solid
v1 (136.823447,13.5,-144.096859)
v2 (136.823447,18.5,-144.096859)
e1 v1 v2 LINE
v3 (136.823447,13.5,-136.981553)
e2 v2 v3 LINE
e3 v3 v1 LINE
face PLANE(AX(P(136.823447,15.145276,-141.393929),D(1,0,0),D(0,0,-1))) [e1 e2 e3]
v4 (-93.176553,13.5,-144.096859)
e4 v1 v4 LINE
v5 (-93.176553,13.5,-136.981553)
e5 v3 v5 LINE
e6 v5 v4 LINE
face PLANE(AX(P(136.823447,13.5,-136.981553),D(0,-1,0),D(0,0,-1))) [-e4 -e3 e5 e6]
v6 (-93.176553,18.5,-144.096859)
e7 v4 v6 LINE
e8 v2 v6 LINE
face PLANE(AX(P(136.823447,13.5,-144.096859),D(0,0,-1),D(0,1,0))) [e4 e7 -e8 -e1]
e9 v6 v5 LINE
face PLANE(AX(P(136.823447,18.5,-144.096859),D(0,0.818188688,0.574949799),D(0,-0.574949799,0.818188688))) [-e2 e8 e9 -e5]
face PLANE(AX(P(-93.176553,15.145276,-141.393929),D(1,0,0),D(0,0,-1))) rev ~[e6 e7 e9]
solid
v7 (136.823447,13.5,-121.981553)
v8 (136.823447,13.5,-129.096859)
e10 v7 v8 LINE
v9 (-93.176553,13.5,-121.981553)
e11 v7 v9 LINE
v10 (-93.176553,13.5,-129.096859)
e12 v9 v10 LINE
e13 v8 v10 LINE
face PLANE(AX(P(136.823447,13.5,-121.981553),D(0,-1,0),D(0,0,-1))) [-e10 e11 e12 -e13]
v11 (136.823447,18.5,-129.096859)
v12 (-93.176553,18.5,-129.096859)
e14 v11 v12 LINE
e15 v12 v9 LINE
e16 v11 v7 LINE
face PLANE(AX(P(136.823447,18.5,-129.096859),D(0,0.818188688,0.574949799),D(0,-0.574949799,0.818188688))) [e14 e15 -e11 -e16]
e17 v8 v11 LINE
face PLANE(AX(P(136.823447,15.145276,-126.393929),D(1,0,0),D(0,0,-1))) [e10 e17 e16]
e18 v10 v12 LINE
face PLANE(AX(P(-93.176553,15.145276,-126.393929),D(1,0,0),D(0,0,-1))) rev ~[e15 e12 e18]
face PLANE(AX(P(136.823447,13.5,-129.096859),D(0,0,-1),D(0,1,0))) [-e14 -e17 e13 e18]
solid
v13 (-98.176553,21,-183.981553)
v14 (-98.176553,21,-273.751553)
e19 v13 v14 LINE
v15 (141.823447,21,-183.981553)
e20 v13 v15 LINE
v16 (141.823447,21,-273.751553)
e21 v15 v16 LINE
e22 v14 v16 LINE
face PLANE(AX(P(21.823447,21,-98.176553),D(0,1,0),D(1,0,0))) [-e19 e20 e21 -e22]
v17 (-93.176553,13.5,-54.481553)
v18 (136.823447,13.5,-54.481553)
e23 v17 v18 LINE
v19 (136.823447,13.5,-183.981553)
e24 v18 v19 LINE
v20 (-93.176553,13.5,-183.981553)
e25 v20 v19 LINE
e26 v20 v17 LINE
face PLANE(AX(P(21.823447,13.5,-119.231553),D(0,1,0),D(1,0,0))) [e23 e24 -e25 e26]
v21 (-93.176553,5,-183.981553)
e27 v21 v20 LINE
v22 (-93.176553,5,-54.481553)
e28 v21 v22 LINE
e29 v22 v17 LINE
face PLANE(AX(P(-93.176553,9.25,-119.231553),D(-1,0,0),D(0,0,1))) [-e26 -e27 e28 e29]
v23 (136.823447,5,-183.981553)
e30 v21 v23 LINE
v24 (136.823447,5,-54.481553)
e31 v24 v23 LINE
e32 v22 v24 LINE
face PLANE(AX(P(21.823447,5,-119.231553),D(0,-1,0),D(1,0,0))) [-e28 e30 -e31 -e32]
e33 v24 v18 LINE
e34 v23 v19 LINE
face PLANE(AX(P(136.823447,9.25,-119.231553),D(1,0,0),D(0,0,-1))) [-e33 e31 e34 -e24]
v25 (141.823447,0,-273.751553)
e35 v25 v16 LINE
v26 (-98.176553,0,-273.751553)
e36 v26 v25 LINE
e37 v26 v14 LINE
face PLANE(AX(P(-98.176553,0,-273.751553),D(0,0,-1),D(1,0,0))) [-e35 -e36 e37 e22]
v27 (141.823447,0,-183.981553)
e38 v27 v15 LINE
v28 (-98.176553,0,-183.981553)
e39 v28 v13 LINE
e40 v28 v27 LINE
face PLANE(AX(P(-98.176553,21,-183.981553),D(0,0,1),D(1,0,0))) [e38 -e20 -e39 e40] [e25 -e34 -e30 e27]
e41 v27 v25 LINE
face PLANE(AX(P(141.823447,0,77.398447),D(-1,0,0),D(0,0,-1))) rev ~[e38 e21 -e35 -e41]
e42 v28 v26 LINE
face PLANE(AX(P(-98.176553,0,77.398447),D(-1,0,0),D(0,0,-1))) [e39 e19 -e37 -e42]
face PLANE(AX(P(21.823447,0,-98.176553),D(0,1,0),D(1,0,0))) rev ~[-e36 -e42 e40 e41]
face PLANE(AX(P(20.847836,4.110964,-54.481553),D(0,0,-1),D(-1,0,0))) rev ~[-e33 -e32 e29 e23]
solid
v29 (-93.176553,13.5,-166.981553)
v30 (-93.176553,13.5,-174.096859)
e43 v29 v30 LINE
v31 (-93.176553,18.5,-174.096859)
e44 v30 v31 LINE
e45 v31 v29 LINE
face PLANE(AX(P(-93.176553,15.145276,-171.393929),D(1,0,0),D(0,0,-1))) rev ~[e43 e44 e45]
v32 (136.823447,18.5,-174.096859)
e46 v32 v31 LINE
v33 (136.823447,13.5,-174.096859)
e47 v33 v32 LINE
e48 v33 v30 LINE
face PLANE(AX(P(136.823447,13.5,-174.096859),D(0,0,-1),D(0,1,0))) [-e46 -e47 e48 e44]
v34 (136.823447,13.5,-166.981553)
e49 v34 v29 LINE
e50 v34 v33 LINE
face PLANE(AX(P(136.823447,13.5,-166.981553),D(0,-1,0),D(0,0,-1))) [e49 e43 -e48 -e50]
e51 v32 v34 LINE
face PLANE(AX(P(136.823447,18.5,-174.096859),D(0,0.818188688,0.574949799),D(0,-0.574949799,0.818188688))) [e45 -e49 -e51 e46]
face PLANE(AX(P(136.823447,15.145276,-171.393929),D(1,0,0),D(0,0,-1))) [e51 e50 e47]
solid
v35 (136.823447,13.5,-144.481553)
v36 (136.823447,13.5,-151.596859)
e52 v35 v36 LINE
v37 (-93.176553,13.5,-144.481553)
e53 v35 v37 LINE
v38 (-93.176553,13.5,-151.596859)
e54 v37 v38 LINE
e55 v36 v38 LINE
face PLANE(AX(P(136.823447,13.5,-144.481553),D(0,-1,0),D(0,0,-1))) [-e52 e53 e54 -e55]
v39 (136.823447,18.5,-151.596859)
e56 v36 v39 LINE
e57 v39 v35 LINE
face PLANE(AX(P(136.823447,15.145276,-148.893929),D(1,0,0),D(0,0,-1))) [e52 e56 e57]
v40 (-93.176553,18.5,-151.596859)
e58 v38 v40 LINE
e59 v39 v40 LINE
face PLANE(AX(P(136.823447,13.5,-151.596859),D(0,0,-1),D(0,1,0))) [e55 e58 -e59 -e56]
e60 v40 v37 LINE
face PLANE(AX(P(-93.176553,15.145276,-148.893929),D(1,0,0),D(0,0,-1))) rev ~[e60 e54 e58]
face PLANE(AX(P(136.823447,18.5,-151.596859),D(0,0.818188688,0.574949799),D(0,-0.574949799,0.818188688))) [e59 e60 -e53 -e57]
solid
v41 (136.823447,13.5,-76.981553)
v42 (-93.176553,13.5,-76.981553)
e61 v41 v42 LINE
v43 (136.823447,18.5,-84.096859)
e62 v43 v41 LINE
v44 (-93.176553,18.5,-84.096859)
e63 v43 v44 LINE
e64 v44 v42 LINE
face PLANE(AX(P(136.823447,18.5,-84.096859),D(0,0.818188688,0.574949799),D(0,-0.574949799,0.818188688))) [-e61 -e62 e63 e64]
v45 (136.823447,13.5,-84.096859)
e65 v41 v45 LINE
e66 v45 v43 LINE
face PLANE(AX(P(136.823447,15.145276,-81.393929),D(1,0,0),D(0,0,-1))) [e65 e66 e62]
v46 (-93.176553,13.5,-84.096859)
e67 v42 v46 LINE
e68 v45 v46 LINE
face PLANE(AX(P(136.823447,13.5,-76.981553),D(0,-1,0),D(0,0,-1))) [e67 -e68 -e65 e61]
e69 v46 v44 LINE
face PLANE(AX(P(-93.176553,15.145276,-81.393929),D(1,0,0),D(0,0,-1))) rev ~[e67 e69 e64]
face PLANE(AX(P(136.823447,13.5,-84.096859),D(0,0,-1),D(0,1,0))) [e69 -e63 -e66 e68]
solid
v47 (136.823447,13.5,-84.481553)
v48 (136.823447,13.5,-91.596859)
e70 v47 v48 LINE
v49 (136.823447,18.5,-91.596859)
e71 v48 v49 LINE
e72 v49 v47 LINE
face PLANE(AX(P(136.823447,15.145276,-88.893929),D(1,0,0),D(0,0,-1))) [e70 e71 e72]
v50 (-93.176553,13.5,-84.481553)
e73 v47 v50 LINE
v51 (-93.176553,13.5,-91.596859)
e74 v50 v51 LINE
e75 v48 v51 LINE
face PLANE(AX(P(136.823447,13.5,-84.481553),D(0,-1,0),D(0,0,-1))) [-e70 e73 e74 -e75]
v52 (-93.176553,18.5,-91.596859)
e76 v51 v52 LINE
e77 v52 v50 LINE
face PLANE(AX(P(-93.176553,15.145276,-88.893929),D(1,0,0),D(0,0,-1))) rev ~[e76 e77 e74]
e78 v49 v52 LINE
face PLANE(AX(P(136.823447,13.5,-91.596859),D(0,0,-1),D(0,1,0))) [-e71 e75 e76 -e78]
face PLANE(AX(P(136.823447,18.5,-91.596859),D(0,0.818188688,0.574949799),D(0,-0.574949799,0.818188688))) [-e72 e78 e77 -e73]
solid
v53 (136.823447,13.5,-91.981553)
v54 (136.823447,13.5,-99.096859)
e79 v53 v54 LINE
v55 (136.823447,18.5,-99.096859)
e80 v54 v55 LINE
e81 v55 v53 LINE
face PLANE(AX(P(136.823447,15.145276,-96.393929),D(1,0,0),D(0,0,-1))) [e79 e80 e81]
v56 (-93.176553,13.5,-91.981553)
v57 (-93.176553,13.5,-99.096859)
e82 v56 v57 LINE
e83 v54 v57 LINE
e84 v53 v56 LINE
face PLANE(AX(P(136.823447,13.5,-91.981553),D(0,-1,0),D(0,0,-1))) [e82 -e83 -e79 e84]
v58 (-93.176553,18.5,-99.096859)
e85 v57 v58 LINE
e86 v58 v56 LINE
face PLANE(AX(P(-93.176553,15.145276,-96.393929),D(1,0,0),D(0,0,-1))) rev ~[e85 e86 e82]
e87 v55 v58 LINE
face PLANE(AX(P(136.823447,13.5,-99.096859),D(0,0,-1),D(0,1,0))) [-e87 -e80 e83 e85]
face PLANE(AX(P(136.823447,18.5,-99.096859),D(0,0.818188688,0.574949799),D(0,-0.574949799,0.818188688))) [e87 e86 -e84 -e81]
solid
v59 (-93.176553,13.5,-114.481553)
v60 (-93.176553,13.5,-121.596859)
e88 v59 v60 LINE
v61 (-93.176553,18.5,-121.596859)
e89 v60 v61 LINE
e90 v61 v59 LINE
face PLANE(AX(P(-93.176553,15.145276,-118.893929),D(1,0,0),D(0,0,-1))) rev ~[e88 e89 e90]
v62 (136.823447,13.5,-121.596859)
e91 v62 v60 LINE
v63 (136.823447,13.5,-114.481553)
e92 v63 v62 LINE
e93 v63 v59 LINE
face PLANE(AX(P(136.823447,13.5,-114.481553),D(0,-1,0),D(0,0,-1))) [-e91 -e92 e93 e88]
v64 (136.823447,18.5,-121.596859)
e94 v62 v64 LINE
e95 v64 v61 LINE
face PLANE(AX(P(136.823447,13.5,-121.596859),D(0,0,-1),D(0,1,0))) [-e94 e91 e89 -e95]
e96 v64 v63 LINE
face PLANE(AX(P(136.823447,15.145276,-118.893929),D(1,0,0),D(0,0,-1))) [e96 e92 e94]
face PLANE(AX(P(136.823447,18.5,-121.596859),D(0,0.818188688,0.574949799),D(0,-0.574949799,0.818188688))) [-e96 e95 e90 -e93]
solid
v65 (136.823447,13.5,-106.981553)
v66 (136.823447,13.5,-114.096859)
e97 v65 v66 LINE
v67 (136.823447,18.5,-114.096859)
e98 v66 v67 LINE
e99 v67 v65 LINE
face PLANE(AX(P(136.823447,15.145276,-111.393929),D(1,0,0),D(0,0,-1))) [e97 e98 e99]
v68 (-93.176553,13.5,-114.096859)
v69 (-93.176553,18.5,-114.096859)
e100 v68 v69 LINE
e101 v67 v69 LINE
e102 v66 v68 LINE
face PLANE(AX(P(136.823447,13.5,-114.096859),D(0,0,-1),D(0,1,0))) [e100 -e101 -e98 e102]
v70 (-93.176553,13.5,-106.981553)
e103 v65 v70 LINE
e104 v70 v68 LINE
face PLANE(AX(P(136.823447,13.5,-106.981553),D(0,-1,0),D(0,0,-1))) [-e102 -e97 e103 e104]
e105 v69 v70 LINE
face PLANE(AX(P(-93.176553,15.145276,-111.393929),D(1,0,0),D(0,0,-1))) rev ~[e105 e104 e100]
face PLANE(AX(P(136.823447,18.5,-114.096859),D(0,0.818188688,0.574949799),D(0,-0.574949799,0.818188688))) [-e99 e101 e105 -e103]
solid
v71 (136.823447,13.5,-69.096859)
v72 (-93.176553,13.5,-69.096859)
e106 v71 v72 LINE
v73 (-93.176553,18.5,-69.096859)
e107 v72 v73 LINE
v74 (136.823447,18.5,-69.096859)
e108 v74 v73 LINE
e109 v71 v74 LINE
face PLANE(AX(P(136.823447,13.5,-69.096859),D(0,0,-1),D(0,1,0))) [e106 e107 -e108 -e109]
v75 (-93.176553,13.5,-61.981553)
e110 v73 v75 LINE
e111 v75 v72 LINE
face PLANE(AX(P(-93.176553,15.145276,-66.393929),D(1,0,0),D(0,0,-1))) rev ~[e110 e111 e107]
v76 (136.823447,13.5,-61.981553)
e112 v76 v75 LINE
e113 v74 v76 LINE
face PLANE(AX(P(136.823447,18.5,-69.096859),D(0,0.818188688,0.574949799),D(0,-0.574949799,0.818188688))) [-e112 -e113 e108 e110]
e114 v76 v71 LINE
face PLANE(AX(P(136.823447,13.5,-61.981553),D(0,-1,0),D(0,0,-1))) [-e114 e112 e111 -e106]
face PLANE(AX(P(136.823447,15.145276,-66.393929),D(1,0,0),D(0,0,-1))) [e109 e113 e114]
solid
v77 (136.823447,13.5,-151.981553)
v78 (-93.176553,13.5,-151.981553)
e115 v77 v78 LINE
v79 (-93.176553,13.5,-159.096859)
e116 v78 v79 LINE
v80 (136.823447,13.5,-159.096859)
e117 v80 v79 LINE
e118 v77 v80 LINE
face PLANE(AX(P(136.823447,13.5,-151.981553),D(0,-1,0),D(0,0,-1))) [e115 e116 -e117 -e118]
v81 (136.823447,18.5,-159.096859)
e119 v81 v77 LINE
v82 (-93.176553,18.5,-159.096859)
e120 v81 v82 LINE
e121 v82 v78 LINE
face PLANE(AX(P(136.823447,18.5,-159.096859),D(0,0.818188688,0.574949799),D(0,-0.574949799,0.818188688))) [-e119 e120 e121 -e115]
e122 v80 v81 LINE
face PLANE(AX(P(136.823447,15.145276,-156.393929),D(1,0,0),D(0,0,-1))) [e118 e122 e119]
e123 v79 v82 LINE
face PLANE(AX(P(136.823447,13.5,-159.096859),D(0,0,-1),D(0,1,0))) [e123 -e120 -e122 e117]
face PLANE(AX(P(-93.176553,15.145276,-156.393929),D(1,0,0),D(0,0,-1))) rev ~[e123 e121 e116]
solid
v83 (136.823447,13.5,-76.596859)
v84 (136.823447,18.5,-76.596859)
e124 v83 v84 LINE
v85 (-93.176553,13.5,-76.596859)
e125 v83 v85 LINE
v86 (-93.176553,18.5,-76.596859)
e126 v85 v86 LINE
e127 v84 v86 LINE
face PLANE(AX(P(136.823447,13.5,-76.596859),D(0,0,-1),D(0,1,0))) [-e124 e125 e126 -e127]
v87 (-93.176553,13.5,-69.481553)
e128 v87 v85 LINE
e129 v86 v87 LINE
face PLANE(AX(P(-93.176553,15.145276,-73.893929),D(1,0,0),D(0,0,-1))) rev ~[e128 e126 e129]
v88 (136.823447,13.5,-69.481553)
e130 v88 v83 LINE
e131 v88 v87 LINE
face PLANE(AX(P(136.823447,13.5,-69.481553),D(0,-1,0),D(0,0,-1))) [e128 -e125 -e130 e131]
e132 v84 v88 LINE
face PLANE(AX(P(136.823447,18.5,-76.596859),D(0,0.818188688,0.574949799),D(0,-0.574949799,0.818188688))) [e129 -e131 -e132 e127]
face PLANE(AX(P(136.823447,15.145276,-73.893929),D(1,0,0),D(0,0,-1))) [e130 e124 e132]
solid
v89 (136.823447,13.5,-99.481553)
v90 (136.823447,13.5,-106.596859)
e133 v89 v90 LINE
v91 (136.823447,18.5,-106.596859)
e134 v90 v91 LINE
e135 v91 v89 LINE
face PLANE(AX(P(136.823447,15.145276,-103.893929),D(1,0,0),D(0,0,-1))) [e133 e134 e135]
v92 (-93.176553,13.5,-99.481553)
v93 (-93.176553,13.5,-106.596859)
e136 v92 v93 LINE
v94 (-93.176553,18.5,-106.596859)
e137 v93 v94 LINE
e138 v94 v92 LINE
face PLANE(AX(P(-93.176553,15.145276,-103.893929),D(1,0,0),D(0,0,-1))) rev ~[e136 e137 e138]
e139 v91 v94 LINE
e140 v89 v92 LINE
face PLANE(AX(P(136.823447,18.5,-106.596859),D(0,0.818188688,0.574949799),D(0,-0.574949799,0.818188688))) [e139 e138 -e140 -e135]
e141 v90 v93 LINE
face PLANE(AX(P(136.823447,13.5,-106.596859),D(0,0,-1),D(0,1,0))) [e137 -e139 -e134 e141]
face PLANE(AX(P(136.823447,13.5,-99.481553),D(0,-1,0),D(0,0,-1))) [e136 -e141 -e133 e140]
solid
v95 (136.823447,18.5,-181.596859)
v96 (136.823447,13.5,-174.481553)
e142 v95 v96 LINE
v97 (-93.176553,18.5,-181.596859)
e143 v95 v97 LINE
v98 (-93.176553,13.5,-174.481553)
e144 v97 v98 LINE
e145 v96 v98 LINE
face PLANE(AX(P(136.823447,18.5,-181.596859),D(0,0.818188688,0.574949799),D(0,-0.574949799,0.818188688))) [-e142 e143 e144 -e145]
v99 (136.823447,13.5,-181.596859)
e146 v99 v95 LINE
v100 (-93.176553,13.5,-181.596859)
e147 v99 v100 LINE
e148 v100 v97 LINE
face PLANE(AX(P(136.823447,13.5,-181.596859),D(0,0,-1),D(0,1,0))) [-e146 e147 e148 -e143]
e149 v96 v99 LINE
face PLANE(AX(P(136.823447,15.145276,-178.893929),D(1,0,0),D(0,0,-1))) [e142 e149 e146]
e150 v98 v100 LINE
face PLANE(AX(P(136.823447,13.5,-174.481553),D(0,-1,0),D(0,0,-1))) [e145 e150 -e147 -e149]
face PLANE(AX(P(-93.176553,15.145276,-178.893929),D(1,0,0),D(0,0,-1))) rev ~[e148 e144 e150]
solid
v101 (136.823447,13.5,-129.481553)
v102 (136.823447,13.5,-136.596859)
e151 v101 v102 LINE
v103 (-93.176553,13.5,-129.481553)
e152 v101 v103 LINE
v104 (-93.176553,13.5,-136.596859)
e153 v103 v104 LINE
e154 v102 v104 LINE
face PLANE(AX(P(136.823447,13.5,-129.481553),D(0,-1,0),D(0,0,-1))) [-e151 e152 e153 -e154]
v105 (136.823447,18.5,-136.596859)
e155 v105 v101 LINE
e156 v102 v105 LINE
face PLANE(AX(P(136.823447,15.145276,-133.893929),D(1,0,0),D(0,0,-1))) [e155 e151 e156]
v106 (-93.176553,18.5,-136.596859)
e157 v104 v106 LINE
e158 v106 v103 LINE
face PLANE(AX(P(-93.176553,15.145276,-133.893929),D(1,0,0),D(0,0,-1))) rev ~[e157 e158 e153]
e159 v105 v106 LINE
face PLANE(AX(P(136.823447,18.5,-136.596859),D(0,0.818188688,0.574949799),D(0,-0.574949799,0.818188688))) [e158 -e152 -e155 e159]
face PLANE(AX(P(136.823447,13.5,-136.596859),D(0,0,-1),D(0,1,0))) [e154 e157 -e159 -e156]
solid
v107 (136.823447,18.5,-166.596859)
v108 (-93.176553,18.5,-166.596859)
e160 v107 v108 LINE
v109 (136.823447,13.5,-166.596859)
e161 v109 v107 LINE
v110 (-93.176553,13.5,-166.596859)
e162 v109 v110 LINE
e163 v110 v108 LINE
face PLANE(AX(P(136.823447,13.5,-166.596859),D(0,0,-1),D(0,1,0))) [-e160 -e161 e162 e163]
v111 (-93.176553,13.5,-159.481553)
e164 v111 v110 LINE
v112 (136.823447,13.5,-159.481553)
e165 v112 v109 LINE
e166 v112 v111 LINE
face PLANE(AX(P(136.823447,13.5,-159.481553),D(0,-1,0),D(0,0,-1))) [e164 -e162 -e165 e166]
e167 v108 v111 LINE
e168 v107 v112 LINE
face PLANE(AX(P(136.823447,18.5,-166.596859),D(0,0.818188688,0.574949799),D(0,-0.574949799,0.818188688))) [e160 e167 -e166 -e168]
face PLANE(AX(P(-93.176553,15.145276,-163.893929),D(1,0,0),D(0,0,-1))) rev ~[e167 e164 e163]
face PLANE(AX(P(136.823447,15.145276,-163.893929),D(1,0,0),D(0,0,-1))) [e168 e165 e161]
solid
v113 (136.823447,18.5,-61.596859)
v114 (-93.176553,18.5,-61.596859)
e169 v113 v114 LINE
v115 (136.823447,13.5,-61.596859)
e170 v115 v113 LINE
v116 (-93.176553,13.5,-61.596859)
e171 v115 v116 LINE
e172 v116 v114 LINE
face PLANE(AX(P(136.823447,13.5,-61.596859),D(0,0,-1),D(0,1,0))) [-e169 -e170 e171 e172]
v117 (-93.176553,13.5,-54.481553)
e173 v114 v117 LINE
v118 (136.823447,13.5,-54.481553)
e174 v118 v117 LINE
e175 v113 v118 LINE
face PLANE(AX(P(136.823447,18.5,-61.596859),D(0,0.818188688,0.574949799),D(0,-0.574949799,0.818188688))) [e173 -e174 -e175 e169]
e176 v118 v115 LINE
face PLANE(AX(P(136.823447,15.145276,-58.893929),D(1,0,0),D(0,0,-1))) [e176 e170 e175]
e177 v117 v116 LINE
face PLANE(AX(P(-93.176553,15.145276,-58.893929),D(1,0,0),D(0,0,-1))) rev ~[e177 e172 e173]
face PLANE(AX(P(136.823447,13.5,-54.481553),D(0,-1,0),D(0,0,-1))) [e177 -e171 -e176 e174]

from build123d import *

# Parameters (mm, degrees)
SKETCH1_W              = 240
SKETCH1_H              = 351.15
BOSS_EXTRUDE3_DEPTH    = 21
SKETCH5_W              = 248.975913499
SKETCH5_H              = 113.170869772
CUT_EXTRUDE2_DEPTH     = 513
SKETCH4_W              = 240
SKETCH4_H              = 129.5
CUT_EXTRUDE3_DEPTH     = 7.5
SKETCH6_W              = 240
SKETCH6_H              = 129.5
CUT_EXTRUDE4_DEPTH     = 5
SKETCH8_W              = 129.5
SKETCH8_H              = 8.5
CUT_EXTRUDE6_DEPTH     = 5
SKETCH7_W              = 129.5
SKETCH7_H              = 8.5
CUT_EXTRUDE7_DEPTH     = 5
BOSS_EXTRUDE4_DEPTH    = 230
BOSS_EXTRUDE4_2_DEPTH  = 230
BOSS_EXTRUDE4_3_DEPTH  = 230
BOSS_EXTRUDE4_4_DEPTH  = 230
BOSS_EXTRUDE4_5_DEPTH  = 230
BOSS_EXTRUDE4_6_DEPTH  = 230
BOSS_EXTRUDE4_7_DEPTH  = 230
BOSS_EXTRUDE4_8_DEPTH  = 230
BOSS_EXTRUDE4_9_DEPTH  = 230
BOSS_EXTRUDE4_10_DEPTH = 230
BOSS_EXTRUDE4_11_DEPTH = 230
BOSS_EXTRUDE4_12_DEPTH = 230
BOSS_EXTRUDE4_13_DEPTH = 230
BOSS_EXTRUDE4_14_DEPTH = 230
BOSS_EXTRUDE4_15_DEPTH = 230
BOSS_EXTRUDE4_16_DEPTH = 230
BOSS_EXTRUDE4_17_DEPTH = 230


with BuildPart() as part:
    # Sketch1 → Boss-Extrude3 (new body)
    with BuildSketch(Plane(origin=(0, 0, 0), x_dir=(1, 0, 0), z_dir=(0, 1, 0))):
        with Locations((21.823446746, 98.176553254)):
            Rectangle(SKETCH1_W, SKETCH1_H)
    extrude(amount=BOSS_EXTRUDE3_DEPTH)

    # Sketch5 → Cut-Extrude2 (cut)
    with BuildSketch(Plane(origin=(0, 0, -54.481553254), x_dir=(-1, 0, 0), z_dir=(0, 0, -1))):
        with Locations((-20.8478358, 4.110963623)):
            Rectangle(SKETCH5_W, SKETCH5_H)
    extrude(amount=-CUT_EXTRUDE2_DEPTH, mode=Mode.SUBTRACT)

    # Sketch4 → Cut-Extrude3 (cut)
    with BuildSketch(Plane(origin=(0, 21, 0), x_dir=(1, 0, 0), z_dir=(0, 1, 0))):
        with Locations((21.823446746, 119.231553254)):
            Rectangle(SKETCH4_W, SKETCH4_H)
    extrude(amount=-CUT_EXTRUDE3_DEPTH, mode=Mode.SUBTRACT)

    # Sketch6 → Cut-Extrude4 (cut)
    with BuildSketch(Plane.XZ):
        with Locations((21.823446746, -119.231553254)):
            Rectangle(SKETCH6_W, SKETCH6_H)
    extrude(amount=-CUT_EXTRUDE4_DEPTH, mode=Mode.SUBTRACT)

    # Sketch8 → Cut-Extrude6 (cut)
    with BuildSketch(Plane.ZY.offset(98.176553254)):
        with Locations((-119.231553254, 9.25)):
            Rectangle(SKETCH8_W, SKETCH8_H)
    extrude(amount=-CUT_EXTRUDE6_DEPTH, mode=Mode.SUBTRACT)

    # Sketch7 → Cut-Extrude7 (cut)
    with BuildSketch(Plane(origin=(141.823446746, 0, 0), x_dir=(0, 0, -1), z_dir=(1, 0, 0))):
        with Locations((119.231553254, 9.25)):
            Rectangle(SKETCH7_W, SKETCH7_H)
    extrude(amount=-CUT_EXTRUDE7_DEPTH, mode=Mode.SUBTRACT)


with BuildPart() as body_2:
    # Sketch14 → Boss-Extrude4 (new body)
    with BuildSketch(Plane(origin=(136.823446746, 0, 0), x_dir=(0, 0, -1), z_dir=(1, 0, 0))):
        Polygon((61.596858709, 18.5), (54.481553254, 13.5), (61.596858709, 13.5), align=None)
    extrude(amount=-BOSS_EXTRUDE4_DEPTH)


with BuildPart() as body_3:
    # Sketch14 → Boss-Extrude4 2 (new body)
    with BuildSketch(Plane(origin=(136.823446746, 0, 0), x_dir=(0, 0, -1), z_dir=(1, 0, 0))):
        Polygon((69.096858709, 18.5), (61.981553254, 13.5), (69.096858709, 13.5), align=None)
    extrude(amount=-BOSS_EXTRUDE4_2_DEPTH)


with BuildPart() as body_4:
    # Sketch14 → Boss-Extrude4 3 (new body)
    with BuildSketch(Plane(origin=(136.823446746, 0, 0), x_dir=(0, 0, -1), z_dir=(1, 0, 0))):
        Polygon((76.596858709, 18.5), (69.481553254, 13.5), (76.596858709, 13.5), align=None)
    extrude(amount=-BOSS_EXTRUDE4_3_DEPTH)


with BuildPart() as body_5:
    # Sketch14 → Boss-Extrude4 4 (new body)
    with BuildSketch(Plane(origin=(136.823446746, 0, 0), x_dir=(0, 0, -1), z_dir=(1, 0, 0))):
        Polygon((84.096858709, 18.5), (76.981553254, 13.5), (84.096858709, 13.5), align=None)
    extrude(amount=-BOSS_EXTRUDE4_4_DEPTH)


with BuildPart() as body_6:
    # Sketch14 → Boss-Extrude4 5 (new body)
    with BuildSketch(Plane(origin=(136.823446746, 0, 0), x_dir=(0, 0, -1), z_dir=(1, 0, 0))):
        Polygon((91.596858709, 18.5), (84.481553254, 13.5), (91.596858709, 13.5), align=None)
    extrude(amount=-BOSS_EXTRUDE4_5_DEPTH)


with BuildPart() as body_7:
    # Sketch14 → Boss-Extrude4 6 (new body)
    with BuildSketch(Plane(origin=(136.823446746, 0, 0), x_dir=(0, 0, -1), z_dir=(1, 0, 0))):
        Polygon((99.096858709, 18.5), (91.981553254, 13.5), (99.096858709, 13.5), align=None)
    extrude(amount=-BOSS_EXTRUDE4_6_DEPTH)


with BuildPart() as body_8:
    # Sketch14 → Boss-Extrude4 7 (new body)
    with BuildSketch(Plane(origin=(136.823446746, 0, 0), x_dir=(0, 0, -1), z_dir=(1, 0, 0))):
        Polygon((106.596858709, 18.5), (99.481553254, 13.5), (106.596858709, 13.5), align=None)
    extrude(amount=-BOSS_EXTRUDE4_7_DEPTH)


with BuildPart() as body_9:
    # Sketch14 → Boss-Extrude4 8 (new body)
    with BuildSketch(Plane(origin=(136.823446746, 0, 0), x_dir=(0, 0, -1), z_dir=(1, 0, 0))):
        Polygon((114.096858709, 18.5), (106.981553254, 13.5), (114.096858709, 13.5), align=None)
    extrude(amount=-BOSS_EXTRUDE4_8_DEPTH)


with BuildPart() as body_10:
    # Sketch14 → Boss-Extrude4 9 (new body)
    with BuildSketch(Plane(origin=(136.823446746, 0, 0), x_dir=(0, 0, -1), z_dir=(1, 0, 0))):
        Polygon((121.596858709, 18.5), (114.481553254, 13.5), (121.596858709, 13.5), align=None)
    extrude(amount=-BOSS_EXTRUDE4_9_DEPTH)


with BuildPart() as body_11:
    # Sketch14 → Boss-Extrude4 10 (new body)
    with BuildSketch(Plane(origin=(136.823446746, 0, 0), x_dir=(0, 0, -1), z_dir=(1, 0, 0))):
        Polygon((129.096858709, 18.5), (121.981553254, 13.5), (129.096858709, 13.5), align=None)
    extrude(amount=-BOSS_EXTRUDE4_10_DEPTH)


with BuildPart() as body_12:
    # Sketch14 → Boss-Extrude4 11 (new body)
    with BuildSketch(Plane(origin=(136.823446746, 0, 0), x_dir=(0, 0, -1), z_dir=(1, 0, 0))):
        Polygon((136.596858709, 18.5), (129.481553254, 13.5), (136.596858709, 13.5), align=None)
    extrude(amount=-BOSS_EXTRUDE4_11_DEPTH)


with BuildPart() as body_13:
    # Sketch14 → Boss-Extrude4 12 (new body)
    with BuildSketch(Plane(origin=(136.823446746, 0, 0), x_dir=(0, 0, -1), z_dir=(1, 0, 0))):
        Polygon((144.096858709, 18.5), (136.981553254, 13.5), (144.096858709, 13.5), align=None)
    extrude(amount=-BOSS_EXTRUDE4_12_DEPTH)


with BuildPart() as body_14:
    # Sketch14 → Boss-Extrude4 13 (new body)
    with BuildSketch(Plane(origin=(136.823446746, 0, 0), x_dir=(0, 0, -1), z_dir=(1, 0, 0))):
        Polygon((151.596858709, 18.5), (144.481553254, 13.5), (151.596858709, 13.5), align=None)
    extrude(amount=-BOSS_EXTRUDE4_13_DEPTH)


with BuildPart() as body_15:
    # Sketch14 → Boss-Extrude4 14 (new body)
    with BuildSketch(Plane(origin=(136.823446746, 0, 0), x_dir=(0, 0, -1), z_dir=(1, 0, 0))):
        Polygon((159.096858709, 18.5), (151.981553254, 13.5), (159.096858709, 13.5), align=None)
    extrude(amount=-BOSS_EXTRUDE4_14_DEPTH)


with BuildPart() as body_16:
    # Sketch14 → Boss-Extrude4 15 (new body)
    with BuildSketch(Plane(origin=(136.823446746, 0, 0), x_dir=(0, 0, -1), z_dir=(1, 0, 0))):
        Polygon((166.596858709, 18.5), (159.481553254, 13.5), (166.596858709, 13.5), align=None)
    extrude(amount=-BOSS_EXTRUDE4_15_DEPTH)


with BuildPart() as body_17:
    # Sketch14 → Boss-Extrude4 16 (new body)
    with BuildSketch(Plane(origin=(136.823446746, 0, 0), x_dir=(0, 0, -1), z_dir=(1, 0, 0))):
        Polygon((174.096858709, 18.5), (166.981553254, 13.5), (174.096858709, 13.5), align=None)
    extrude(amount=-BOSS_EXTRUDE4_16_DEPTH)


with BuildPart() as body_18:
    # Sketch14 → Boss-Extrude4 17 (new body)
    with BuildSketch(Plane(origin=(136.823446746, 0, 0), x_dir=(0, 0, -1), z_dir=(1, 0, 0))):
        Polygon((181.596858709, 18.5), (174.481553254, 13.5), (181.596858709, 13.5), align=None)
    extrude(amount=-BOSS_EXTRUDE4_17_DEPTH)


solid = Compound([part.part, body_2.part, body_3.part, body_4.part, body_5.part, body_6.part, body_7.part, body_8.part, body_9.part, body_10.part, body_11.part, body_12.part, body_13.part, body_14.part, body_15.part, body_16.part, body_17.part, body_18.part])
